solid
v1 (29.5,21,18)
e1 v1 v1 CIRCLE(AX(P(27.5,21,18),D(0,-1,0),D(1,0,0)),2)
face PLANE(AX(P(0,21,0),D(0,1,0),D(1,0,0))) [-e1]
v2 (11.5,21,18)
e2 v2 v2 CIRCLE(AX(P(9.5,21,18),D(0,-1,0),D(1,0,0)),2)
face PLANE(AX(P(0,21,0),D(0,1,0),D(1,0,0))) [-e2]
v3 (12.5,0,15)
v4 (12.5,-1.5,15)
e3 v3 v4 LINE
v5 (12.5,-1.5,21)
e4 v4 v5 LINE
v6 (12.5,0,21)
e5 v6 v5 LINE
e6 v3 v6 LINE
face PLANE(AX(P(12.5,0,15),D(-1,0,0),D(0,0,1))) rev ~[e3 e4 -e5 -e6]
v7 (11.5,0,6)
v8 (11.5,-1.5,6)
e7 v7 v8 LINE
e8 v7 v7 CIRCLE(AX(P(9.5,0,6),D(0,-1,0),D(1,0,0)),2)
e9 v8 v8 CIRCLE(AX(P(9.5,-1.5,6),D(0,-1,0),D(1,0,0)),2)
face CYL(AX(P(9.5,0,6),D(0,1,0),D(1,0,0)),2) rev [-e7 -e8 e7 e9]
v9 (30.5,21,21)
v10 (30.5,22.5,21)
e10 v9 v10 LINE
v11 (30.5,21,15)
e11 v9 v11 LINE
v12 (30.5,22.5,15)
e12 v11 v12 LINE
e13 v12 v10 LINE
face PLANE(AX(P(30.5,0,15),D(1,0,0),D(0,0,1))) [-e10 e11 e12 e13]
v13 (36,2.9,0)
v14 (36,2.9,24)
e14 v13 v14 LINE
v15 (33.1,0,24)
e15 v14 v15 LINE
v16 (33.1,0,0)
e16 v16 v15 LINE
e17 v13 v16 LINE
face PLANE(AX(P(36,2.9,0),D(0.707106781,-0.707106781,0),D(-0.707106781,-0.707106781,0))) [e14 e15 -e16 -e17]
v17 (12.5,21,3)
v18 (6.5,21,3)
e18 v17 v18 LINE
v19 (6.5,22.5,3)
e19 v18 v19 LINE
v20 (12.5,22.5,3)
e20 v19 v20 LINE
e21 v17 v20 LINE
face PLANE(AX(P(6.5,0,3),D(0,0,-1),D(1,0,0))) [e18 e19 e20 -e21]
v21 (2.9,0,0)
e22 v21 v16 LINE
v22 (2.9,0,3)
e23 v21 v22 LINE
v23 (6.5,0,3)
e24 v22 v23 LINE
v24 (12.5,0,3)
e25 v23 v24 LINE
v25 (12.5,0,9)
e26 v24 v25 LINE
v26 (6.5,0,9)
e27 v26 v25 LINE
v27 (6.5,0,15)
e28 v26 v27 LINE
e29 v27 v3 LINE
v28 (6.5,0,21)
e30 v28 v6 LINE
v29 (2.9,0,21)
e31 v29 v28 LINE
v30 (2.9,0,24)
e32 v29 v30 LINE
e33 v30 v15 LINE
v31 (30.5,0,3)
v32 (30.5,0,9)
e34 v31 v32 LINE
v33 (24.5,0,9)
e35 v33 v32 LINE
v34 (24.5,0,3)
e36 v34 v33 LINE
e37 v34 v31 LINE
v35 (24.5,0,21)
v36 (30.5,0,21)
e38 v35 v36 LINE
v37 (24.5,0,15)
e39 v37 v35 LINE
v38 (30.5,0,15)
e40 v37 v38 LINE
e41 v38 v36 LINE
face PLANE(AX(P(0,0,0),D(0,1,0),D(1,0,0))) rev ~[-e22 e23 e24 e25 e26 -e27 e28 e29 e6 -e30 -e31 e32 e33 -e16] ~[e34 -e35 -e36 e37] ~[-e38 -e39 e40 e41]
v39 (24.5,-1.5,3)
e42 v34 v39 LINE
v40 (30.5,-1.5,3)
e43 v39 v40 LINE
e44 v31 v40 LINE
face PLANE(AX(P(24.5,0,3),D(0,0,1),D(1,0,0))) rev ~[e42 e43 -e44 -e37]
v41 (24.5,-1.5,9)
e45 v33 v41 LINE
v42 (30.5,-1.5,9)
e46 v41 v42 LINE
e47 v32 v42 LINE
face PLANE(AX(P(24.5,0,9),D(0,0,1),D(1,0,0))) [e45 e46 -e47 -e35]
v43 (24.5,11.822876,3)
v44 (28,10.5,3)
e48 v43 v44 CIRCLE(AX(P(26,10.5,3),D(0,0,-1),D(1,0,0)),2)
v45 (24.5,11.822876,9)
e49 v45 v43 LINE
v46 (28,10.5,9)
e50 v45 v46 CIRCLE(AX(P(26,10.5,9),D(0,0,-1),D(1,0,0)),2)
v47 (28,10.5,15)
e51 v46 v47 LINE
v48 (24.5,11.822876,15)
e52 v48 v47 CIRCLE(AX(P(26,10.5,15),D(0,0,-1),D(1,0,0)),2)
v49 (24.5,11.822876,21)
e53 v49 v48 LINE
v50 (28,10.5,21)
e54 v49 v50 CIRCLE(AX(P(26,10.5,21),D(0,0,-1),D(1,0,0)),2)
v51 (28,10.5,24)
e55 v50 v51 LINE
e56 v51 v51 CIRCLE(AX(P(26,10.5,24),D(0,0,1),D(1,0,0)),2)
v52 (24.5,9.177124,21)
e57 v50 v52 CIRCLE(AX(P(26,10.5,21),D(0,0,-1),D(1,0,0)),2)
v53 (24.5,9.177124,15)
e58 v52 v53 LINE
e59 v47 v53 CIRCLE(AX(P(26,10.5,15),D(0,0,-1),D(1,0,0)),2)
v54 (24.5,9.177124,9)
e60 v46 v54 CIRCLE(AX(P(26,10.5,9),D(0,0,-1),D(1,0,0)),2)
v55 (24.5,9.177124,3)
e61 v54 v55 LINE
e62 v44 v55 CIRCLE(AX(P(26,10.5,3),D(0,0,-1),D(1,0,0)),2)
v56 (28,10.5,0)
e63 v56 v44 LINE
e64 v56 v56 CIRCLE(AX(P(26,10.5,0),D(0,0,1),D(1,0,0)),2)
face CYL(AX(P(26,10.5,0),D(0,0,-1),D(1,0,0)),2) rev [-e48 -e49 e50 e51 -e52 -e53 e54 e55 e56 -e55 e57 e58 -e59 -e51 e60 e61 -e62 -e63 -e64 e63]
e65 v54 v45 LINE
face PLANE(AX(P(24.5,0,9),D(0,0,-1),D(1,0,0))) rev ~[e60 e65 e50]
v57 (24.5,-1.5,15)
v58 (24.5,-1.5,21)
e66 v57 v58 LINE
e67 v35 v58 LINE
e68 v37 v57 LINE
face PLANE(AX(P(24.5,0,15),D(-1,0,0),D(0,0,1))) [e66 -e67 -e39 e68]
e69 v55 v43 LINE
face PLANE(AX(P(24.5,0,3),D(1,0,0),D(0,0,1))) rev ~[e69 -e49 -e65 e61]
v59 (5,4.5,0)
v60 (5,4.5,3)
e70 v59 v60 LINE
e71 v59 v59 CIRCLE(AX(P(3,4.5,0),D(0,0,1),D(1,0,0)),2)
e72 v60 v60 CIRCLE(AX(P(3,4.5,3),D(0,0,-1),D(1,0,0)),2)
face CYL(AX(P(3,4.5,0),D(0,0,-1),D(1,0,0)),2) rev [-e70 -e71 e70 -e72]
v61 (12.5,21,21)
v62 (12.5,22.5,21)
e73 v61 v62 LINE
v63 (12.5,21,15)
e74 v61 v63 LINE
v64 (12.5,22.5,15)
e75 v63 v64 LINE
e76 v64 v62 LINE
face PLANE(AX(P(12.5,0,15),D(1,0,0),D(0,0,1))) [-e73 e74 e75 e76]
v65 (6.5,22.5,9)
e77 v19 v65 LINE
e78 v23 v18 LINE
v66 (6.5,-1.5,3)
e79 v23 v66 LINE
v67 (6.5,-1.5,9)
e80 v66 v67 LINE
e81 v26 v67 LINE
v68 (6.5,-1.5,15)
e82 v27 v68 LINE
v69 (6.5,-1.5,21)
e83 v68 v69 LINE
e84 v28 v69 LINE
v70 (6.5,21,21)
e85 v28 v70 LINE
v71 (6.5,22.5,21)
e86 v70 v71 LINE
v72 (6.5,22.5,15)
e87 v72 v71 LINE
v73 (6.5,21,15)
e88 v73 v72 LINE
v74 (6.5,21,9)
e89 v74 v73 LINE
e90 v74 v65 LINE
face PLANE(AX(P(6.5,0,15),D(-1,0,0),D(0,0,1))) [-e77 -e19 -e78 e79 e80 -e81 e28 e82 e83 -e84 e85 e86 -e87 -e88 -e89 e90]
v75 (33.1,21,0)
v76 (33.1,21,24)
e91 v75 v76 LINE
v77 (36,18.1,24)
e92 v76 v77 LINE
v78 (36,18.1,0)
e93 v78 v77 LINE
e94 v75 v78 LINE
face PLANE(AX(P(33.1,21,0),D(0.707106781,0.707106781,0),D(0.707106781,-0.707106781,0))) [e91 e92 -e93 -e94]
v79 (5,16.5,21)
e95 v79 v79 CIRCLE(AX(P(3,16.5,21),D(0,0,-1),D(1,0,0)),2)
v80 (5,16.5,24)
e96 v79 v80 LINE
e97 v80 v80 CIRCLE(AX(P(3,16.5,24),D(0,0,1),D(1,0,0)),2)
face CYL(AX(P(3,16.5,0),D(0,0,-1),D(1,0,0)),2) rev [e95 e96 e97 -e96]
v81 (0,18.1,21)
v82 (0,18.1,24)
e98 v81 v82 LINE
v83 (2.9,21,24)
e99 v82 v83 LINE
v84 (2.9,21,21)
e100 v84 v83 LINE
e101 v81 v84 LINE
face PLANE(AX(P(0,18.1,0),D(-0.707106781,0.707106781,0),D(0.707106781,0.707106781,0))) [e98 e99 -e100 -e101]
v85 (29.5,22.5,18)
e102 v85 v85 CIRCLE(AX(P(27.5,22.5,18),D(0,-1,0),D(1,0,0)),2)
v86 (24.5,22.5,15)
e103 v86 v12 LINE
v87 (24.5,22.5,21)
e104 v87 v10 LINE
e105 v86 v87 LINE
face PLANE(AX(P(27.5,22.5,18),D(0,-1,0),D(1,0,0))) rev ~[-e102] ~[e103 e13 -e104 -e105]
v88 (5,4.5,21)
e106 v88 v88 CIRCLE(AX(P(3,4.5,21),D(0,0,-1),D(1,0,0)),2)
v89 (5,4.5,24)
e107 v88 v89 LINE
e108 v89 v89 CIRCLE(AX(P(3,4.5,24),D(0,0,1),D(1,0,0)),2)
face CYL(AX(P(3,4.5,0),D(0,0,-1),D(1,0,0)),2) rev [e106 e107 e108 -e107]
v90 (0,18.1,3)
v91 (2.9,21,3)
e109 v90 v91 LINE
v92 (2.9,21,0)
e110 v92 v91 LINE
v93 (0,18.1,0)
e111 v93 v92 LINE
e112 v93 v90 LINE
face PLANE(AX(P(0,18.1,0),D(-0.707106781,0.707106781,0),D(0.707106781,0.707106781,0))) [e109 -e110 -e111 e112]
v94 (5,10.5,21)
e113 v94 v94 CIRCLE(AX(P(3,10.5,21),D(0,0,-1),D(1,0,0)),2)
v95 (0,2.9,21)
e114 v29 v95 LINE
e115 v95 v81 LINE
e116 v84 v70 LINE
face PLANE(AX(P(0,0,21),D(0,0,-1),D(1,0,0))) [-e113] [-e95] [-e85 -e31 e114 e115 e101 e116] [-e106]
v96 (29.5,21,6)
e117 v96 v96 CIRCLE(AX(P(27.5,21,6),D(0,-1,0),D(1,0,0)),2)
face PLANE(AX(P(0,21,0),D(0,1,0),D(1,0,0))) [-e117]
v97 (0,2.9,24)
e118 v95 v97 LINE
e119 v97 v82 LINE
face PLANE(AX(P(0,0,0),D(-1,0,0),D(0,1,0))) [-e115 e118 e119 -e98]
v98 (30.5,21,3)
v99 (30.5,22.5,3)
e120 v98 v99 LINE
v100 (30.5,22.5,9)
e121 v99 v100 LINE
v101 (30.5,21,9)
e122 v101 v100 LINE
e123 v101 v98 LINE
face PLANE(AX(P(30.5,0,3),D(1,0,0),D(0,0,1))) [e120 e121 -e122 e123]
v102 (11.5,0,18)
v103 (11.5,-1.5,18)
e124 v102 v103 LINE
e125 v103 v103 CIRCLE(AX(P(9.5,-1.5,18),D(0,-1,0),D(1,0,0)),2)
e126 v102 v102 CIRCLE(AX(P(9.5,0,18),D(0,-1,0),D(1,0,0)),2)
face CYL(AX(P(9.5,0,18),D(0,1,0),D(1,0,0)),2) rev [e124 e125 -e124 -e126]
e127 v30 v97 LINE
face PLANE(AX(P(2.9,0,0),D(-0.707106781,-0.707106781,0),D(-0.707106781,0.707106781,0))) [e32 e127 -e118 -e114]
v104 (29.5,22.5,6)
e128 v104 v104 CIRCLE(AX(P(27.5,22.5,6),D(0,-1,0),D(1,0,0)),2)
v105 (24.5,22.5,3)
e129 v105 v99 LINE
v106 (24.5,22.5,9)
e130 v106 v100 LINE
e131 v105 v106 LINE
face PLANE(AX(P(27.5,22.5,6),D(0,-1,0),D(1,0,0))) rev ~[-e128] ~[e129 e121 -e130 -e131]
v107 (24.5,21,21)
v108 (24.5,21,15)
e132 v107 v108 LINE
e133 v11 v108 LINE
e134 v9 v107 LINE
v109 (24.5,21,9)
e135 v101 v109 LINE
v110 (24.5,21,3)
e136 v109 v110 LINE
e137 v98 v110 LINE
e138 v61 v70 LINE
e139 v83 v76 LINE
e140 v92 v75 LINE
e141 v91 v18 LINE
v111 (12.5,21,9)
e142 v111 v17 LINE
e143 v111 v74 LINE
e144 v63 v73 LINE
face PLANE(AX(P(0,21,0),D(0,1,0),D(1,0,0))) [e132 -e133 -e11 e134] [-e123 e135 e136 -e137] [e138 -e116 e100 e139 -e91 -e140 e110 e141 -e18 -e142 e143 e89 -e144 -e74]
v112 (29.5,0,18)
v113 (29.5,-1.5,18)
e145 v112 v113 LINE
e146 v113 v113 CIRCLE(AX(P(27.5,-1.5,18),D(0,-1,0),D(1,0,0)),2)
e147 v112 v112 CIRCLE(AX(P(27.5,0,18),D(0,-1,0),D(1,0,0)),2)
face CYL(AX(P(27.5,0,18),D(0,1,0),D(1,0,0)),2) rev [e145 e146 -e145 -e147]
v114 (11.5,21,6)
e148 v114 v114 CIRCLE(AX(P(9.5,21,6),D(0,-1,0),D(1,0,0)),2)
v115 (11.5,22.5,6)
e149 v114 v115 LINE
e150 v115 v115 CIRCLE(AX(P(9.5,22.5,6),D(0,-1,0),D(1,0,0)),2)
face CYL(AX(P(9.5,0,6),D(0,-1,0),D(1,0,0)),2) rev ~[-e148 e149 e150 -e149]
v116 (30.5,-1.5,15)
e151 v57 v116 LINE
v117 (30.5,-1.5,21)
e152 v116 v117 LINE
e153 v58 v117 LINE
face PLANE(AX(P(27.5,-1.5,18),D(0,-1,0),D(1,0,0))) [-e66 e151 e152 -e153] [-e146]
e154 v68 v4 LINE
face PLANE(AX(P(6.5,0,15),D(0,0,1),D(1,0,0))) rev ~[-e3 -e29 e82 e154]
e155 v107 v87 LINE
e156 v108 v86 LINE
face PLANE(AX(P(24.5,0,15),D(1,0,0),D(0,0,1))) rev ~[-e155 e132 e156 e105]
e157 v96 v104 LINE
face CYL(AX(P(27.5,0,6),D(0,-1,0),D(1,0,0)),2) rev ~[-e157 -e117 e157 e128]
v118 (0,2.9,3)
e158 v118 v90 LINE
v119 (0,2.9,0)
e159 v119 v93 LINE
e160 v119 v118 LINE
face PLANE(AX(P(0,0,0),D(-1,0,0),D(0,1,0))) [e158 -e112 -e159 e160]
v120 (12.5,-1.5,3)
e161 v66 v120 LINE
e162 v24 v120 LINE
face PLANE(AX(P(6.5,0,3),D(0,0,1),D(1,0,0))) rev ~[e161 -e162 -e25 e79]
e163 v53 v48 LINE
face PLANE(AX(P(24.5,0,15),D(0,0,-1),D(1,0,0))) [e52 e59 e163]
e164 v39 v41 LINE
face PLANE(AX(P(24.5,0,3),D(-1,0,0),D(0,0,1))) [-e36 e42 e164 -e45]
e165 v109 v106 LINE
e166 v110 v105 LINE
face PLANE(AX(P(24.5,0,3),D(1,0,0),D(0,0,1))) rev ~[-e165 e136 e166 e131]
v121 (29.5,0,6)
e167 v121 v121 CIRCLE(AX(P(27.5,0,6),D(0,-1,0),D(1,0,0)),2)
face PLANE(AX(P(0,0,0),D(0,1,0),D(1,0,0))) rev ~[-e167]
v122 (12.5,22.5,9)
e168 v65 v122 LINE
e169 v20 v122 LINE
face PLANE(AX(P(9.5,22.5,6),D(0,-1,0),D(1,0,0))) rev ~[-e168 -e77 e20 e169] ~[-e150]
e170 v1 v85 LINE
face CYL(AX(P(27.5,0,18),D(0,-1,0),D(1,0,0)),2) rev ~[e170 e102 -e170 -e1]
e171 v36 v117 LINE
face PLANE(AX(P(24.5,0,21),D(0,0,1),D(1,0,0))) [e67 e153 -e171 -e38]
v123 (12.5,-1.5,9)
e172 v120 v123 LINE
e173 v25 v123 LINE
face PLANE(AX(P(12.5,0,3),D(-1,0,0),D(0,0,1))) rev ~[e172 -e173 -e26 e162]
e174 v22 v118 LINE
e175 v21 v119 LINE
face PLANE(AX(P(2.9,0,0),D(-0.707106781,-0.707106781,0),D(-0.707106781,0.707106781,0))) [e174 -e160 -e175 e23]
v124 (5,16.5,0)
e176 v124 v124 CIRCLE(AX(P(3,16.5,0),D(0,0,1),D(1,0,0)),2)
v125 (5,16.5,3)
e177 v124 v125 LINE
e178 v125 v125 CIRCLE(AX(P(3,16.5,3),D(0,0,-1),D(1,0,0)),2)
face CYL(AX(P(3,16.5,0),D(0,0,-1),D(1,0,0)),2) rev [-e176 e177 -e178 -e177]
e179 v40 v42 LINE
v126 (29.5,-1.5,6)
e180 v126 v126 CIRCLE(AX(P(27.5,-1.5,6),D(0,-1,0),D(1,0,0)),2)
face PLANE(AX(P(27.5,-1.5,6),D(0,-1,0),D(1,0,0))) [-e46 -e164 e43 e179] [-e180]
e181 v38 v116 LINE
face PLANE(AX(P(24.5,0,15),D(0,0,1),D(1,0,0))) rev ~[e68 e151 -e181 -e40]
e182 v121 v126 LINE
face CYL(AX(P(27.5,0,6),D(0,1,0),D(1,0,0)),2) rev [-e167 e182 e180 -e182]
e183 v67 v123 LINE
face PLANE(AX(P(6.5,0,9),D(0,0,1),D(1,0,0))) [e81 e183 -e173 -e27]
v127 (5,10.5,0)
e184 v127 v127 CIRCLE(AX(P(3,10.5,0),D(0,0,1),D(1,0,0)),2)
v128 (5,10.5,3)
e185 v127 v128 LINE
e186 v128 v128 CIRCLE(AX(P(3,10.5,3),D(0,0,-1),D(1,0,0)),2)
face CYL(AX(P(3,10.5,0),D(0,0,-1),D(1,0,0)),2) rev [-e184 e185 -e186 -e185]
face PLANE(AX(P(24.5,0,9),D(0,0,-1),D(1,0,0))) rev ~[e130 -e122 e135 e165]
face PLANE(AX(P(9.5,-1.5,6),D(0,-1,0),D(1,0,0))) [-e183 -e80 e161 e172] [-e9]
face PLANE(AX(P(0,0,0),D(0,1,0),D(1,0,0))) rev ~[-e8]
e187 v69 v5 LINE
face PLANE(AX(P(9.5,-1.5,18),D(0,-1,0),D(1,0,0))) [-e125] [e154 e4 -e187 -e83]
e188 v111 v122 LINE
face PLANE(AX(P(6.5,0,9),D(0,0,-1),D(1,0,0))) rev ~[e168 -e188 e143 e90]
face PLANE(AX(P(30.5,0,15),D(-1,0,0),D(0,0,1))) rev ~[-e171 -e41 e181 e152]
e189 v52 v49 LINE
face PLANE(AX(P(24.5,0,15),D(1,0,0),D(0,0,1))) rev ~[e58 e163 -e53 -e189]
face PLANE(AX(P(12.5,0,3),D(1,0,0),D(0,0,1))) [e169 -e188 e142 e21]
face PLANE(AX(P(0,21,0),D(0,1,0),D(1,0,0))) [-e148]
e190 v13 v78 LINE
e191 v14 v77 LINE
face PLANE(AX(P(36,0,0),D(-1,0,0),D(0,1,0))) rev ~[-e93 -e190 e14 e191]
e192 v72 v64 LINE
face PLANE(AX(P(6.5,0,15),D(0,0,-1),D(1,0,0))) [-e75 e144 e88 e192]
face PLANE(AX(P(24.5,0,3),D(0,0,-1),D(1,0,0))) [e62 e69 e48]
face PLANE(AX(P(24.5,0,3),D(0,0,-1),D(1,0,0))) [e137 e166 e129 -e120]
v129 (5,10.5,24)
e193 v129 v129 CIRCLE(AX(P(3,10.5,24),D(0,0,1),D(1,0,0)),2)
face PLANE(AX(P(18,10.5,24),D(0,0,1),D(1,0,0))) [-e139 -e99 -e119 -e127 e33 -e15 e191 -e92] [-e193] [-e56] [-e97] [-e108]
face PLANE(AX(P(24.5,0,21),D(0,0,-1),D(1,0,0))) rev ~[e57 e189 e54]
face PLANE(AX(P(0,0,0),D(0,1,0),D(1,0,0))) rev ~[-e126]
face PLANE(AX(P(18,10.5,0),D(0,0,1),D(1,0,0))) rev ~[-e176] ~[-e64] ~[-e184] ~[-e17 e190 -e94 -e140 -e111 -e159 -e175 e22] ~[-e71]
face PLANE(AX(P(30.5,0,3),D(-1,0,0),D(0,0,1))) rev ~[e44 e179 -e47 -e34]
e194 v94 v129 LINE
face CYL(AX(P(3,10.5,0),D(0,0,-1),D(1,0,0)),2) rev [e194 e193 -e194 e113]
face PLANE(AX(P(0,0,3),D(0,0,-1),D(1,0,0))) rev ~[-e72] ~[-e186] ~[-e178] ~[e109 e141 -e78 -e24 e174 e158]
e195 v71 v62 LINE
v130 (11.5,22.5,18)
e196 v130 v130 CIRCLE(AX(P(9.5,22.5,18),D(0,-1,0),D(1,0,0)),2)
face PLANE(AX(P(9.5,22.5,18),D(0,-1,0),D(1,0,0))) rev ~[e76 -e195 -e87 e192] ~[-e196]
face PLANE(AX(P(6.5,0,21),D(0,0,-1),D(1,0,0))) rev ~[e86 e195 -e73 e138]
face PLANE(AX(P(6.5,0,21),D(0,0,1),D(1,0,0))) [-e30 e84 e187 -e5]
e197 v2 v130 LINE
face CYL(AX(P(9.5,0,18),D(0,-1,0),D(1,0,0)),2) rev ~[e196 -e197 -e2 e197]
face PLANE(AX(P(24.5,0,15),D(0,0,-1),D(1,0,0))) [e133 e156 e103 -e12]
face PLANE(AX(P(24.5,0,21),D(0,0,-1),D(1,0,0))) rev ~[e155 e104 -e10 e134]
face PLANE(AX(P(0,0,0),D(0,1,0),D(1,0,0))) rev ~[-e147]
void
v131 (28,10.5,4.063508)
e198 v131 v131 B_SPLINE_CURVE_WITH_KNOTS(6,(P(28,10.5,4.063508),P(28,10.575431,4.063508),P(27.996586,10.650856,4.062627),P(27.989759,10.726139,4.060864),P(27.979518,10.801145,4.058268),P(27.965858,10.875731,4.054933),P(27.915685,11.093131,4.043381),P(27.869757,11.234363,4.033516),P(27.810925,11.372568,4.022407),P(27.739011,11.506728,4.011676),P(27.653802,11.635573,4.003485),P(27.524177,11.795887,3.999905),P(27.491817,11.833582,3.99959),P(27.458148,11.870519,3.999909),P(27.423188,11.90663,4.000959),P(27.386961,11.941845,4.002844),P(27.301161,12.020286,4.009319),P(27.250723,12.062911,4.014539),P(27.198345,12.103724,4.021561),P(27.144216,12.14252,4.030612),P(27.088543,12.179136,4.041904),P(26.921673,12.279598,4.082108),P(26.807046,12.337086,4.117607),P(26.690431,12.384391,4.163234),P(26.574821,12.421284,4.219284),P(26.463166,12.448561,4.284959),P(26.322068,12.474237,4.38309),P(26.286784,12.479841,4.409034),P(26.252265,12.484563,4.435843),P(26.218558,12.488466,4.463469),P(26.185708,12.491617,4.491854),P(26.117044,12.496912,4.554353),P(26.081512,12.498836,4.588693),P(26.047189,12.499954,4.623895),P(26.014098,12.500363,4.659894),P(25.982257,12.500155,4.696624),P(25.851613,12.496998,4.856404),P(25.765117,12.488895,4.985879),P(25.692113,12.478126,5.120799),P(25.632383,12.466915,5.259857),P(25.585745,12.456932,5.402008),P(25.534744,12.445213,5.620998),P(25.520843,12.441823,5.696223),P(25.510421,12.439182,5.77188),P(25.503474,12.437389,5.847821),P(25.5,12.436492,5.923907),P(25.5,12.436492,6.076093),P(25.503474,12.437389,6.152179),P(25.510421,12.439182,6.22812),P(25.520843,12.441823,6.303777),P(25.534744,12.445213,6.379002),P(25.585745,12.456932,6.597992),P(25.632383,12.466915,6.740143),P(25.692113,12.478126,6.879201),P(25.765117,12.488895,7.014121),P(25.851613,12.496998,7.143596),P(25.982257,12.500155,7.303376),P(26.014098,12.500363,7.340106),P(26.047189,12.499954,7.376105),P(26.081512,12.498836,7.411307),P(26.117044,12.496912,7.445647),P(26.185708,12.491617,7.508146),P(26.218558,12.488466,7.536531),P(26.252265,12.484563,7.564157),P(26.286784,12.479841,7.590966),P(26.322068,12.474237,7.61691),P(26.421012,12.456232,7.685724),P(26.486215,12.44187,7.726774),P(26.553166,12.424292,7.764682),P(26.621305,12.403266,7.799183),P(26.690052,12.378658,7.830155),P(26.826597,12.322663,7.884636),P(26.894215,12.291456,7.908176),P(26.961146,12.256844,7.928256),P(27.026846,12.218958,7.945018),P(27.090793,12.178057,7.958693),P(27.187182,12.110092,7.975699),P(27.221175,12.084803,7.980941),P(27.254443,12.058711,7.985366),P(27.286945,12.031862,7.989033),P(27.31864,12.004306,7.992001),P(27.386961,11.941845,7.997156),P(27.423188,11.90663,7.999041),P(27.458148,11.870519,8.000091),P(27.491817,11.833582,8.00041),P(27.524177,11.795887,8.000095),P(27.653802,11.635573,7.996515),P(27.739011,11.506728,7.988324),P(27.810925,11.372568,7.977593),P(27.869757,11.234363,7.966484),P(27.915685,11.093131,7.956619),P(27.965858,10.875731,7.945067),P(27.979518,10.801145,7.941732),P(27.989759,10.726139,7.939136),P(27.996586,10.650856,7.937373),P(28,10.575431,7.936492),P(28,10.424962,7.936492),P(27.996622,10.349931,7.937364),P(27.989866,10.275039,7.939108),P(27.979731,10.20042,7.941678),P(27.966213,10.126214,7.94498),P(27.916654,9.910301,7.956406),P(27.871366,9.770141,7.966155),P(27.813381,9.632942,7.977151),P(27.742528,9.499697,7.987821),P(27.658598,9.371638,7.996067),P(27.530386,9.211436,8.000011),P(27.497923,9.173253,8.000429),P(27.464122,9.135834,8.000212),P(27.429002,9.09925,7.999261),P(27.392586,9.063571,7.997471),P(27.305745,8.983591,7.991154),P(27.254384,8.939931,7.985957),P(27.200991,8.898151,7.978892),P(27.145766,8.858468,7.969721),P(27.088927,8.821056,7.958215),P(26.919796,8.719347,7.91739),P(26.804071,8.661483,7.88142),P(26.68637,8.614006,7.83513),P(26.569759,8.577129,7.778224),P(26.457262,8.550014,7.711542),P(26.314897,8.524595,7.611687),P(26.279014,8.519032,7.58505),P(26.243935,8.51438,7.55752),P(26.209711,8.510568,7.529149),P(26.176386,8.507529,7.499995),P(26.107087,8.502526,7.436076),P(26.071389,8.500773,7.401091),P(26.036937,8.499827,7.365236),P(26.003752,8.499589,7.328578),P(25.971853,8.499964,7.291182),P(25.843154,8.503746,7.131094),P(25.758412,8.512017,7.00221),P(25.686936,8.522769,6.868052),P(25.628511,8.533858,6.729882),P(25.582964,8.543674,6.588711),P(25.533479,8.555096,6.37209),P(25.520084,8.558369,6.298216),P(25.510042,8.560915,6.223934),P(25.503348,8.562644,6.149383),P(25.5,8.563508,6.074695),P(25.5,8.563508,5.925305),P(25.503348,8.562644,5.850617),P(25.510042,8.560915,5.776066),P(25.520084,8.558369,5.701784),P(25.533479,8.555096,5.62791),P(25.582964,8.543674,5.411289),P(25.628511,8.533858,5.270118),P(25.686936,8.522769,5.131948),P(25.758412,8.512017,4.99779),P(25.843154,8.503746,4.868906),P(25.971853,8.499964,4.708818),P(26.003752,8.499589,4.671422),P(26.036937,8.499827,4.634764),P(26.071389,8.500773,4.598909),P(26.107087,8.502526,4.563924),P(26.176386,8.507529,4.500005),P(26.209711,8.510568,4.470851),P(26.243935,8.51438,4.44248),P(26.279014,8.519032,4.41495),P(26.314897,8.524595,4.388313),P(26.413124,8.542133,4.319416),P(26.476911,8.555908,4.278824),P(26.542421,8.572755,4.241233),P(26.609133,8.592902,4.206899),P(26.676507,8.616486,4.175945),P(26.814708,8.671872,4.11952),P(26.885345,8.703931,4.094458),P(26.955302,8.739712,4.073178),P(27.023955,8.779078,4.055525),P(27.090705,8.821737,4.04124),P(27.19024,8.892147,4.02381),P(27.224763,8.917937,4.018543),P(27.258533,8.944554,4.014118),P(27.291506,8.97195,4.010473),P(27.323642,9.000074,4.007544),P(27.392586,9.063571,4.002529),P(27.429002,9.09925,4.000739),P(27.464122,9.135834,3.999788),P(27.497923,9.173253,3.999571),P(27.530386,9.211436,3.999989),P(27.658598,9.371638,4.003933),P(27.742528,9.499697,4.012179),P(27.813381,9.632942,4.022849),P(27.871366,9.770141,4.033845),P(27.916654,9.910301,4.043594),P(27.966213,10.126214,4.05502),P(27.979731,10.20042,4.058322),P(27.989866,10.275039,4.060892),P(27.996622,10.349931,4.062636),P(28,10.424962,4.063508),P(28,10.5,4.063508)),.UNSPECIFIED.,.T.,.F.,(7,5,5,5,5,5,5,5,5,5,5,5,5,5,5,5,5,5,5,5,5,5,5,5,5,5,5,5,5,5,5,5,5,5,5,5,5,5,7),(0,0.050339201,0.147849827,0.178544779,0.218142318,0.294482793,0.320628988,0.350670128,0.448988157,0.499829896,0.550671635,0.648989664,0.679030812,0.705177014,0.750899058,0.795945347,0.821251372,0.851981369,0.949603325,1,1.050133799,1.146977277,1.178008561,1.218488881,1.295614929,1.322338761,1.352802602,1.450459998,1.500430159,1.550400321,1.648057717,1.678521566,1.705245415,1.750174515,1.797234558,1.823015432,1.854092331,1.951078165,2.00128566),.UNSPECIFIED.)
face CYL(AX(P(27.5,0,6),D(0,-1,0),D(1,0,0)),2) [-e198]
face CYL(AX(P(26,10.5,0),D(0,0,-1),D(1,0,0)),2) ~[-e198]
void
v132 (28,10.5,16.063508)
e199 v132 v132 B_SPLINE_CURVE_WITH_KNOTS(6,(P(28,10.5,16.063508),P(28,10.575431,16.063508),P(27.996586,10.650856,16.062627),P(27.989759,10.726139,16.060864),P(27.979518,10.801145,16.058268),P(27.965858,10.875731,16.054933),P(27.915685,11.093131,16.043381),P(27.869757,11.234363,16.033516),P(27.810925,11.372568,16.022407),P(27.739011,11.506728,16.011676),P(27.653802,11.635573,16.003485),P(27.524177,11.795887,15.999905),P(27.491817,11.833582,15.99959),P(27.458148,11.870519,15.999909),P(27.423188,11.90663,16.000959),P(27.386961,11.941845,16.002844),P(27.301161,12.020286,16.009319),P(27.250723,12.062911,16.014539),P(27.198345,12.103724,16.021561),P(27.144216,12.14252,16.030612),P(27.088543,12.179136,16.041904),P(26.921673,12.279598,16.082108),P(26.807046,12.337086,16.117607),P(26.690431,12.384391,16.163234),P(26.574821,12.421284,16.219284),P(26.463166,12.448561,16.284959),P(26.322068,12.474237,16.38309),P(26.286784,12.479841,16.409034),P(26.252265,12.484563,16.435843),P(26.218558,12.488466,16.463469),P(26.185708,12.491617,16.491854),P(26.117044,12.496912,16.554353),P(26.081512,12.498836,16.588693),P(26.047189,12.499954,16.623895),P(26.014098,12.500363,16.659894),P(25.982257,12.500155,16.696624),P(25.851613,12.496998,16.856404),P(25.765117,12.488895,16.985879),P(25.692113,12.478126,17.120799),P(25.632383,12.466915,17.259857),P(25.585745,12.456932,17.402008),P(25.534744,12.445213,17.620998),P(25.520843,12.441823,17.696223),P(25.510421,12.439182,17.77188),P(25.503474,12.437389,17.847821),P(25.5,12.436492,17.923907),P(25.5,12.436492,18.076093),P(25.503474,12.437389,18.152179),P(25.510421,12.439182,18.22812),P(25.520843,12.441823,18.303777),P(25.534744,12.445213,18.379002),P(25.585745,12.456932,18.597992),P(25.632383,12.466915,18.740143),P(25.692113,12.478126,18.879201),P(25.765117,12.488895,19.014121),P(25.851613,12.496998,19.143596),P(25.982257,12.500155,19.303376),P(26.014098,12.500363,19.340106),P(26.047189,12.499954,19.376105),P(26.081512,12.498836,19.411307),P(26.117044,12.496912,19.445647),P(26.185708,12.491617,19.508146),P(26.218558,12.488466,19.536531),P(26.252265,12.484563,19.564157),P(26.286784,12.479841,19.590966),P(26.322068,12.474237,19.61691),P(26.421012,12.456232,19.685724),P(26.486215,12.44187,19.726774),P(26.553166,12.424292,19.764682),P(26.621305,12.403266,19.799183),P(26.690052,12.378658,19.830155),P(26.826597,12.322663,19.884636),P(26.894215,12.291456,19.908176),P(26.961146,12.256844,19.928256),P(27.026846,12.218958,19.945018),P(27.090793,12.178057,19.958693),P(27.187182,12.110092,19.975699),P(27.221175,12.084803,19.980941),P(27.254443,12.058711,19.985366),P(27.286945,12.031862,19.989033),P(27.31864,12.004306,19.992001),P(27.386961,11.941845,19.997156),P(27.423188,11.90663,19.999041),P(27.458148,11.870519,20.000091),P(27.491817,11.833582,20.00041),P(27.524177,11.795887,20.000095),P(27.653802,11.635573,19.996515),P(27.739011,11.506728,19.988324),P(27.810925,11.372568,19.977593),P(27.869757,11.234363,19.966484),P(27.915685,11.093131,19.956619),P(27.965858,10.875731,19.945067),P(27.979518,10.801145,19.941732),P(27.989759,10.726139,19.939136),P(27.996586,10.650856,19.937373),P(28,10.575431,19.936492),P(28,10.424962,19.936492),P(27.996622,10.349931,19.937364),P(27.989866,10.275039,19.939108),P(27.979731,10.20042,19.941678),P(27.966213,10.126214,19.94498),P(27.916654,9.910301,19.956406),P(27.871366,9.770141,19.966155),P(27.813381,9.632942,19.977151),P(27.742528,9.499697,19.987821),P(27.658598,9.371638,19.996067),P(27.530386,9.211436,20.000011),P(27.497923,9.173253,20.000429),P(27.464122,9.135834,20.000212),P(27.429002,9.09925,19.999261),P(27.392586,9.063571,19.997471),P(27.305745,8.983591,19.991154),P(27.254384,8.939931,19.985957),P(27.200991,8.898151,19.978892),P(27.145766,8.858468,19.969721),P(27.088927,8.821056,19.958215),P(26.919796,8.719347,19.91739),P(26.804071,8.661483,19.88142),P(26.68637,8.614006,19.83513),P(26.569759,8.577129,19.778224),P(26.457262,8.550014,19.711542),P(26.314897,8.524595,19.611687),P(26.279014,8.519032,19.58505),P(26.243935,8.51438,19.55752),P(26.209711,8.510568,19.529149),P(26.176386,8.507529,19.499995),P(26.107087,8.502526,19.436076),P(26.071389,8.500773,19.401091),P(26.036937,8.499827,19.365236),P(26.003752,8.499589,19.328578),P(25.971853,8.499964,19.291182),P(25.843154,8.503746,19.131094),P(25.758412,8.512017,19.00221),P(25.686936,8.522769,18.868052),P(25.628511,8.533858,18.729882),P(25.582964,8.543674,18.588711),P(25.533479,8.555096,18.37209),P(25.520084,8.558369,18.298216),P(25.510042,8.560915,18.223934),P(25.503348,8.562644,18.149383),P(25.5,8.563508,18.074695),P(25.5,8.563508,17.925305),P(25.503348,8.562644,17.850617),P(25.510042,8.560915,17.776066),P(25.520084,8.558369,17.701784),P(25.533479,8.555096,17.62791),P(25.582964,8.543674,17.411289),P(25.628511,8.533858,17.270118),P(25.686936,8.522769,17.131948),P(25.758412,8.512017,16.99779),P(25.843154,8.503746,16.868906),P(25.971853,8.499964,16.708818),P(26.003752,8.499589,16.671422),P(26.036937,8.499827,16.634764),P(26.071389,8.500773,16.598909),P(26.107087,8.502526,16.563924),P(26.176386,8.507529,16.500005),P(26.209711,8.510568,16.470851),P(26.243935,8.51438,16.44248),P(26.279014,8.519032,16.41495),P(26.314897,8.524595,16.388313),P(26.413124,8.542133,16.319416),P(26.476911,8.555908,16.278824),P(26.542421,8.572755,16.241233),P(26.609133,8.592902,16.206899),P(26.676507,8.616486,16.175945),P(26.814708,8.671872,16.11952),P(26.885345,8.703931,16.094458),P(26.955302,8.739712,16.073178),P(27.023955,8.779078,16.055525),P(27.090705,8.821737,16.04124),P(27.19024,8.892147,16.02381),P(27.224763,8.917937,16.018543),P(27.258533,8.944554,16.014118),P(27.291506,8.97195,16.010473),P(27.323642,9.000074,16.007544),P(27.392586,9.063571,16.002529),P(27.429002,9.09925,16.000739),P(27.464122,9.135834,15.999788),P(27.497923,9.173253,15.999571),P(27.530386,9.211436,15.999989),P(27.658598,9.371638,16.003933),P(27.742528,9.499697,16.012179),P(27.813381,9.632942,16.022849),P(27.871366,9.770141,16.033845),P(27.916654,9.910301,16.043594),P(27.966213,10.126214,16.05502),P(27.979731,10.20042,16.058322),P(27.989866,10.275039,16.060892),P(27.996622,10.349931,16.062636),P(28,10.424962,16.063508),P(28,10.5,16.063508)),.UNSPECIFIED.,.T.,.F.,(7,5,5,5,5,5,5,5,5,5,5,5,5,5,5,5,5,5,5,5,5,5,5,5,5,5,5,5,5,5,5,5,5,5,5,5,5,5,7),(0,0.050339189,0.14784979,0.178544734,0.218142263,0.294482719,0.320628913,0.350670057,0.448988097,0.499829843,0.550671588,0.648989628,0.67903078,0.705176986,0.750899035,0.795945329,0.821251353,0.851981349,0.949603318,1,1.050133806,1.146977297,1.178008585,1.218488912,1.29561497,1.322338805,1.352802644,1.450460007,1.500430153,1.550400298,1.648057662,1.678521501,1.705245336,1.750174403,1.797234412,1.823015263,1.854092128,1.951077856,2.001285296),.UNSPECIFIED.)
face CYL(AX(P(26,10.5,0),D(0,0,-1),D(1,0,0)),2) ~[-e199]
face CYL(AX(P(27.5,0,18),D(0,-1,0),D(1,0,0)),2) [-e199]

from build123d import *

# Parameters (mm, degrees)
SKETCH_W          = 36
SKETCH_H          = 21
SKETCH_R          = 2
PAD_DEPTH         = 24
SKETCH001_W       = 6.5
SKETCH001_H       = 18
POCKET_DEPTH      = 21
POCKET001_DEPTH   = 24
SKETCH003_W       = 6
SKETCH003_H       = 6
SKETCH003_R       = 2
PAD001_DEPTH      = 1.5
PAD001_DEPTH_BACK = 22.5


with BuildPart() as part:
    # Sketch → Pad (new body)
    with BuildSketch(Plane.XY):
        with Locations((18, 10.5)):
            Rectangle(SKETCH_W, SKETCH_H)
        with Locations((3, 16.5)):
            Circle(SKETCH_R, mode=Mode.SUBTRACT)
        with Locations((3, 10.5)):
            Circle(SKETCH_R, mode=Mode.SUBTRACT)
        with Locations((3, 4.5)):
            Circle(SKETCH_R, mode=Mode.SUBTRACT)
        with Locations((26, 10.5)):
            Circle(SKETCH_R, mode=Mode.SUBTRACT)
    extrude(amount=PAD_DEPTH)

    # Sketch001 → Pocket (cut)
    with BuildSketch(Plane.XZ):
        with Locations((3.25, 12)):
            Rectangle(SKETCH001_W, SKETCH001_H)
    extrude(amount=-POCKET_DEPTH, mode=Mode.SUBTRACT)

    # Sketch002 → Pocket001 (cut)
    with BuildSketch(Plane(origin=(0, 0, 0), x_dir=(1, 0, 0), z_dir=(0, 0, -1))):
        Polygon((0, -18.1), (2.9, -21), (0, -21), align=None)
        Polygon((33.1, -21), (36, -18.1), (36, -21), align=None)
        Polygon((36, -2.9), (33.1, 0), (36, 0), align=None)
        Polygon((2.9, 0), (0, -2.9), (0, 0), align=None)
    extrude(amount=-POCKET001_DEPTH, mode=Mode.SUBTRACT)

    # Sketch003 → Pad001 (new body, two sides)
    with BuildSketch(Plane.XZ) as pad001_sk:
        with Locations((9.5, 18)):
            Rectangle(SKETCH003_W, SKETCH003_H)
        with Locations((9.5, 18)):
            Circle(SKETCH003_R, mode=Mode.SUBTRACT)
        with Locations((9.5, 6)):
            Rectangle(SKETCH003_W, SKETCH003_H)
        with Locations((9.5, 6)):
            Circle(SKETCH003_R, mode=Mode.SUBTRACT)
        with Locations((27.5, 18)):
            Rectangle(SKETCH003_W, SKETCH003_H)
        with Locations((27.5, 18)):
            Circle(SKETCH003_R, mode=Mode.SUBTRACT)
        with Locations((27.5, 6)):
            Rectangle(SKETCH003_W, SKETCH003_H)
        with Locations((27.5, 6)):
            Circle(SKETCH003_R, mode=Mode.SUBTRACT)
    extrude(amount=PAD001_DEPTH)
    extrude(pad001_sk.sketch, amount=-PAD001_DEPTH_BACK)


solid = part.part
